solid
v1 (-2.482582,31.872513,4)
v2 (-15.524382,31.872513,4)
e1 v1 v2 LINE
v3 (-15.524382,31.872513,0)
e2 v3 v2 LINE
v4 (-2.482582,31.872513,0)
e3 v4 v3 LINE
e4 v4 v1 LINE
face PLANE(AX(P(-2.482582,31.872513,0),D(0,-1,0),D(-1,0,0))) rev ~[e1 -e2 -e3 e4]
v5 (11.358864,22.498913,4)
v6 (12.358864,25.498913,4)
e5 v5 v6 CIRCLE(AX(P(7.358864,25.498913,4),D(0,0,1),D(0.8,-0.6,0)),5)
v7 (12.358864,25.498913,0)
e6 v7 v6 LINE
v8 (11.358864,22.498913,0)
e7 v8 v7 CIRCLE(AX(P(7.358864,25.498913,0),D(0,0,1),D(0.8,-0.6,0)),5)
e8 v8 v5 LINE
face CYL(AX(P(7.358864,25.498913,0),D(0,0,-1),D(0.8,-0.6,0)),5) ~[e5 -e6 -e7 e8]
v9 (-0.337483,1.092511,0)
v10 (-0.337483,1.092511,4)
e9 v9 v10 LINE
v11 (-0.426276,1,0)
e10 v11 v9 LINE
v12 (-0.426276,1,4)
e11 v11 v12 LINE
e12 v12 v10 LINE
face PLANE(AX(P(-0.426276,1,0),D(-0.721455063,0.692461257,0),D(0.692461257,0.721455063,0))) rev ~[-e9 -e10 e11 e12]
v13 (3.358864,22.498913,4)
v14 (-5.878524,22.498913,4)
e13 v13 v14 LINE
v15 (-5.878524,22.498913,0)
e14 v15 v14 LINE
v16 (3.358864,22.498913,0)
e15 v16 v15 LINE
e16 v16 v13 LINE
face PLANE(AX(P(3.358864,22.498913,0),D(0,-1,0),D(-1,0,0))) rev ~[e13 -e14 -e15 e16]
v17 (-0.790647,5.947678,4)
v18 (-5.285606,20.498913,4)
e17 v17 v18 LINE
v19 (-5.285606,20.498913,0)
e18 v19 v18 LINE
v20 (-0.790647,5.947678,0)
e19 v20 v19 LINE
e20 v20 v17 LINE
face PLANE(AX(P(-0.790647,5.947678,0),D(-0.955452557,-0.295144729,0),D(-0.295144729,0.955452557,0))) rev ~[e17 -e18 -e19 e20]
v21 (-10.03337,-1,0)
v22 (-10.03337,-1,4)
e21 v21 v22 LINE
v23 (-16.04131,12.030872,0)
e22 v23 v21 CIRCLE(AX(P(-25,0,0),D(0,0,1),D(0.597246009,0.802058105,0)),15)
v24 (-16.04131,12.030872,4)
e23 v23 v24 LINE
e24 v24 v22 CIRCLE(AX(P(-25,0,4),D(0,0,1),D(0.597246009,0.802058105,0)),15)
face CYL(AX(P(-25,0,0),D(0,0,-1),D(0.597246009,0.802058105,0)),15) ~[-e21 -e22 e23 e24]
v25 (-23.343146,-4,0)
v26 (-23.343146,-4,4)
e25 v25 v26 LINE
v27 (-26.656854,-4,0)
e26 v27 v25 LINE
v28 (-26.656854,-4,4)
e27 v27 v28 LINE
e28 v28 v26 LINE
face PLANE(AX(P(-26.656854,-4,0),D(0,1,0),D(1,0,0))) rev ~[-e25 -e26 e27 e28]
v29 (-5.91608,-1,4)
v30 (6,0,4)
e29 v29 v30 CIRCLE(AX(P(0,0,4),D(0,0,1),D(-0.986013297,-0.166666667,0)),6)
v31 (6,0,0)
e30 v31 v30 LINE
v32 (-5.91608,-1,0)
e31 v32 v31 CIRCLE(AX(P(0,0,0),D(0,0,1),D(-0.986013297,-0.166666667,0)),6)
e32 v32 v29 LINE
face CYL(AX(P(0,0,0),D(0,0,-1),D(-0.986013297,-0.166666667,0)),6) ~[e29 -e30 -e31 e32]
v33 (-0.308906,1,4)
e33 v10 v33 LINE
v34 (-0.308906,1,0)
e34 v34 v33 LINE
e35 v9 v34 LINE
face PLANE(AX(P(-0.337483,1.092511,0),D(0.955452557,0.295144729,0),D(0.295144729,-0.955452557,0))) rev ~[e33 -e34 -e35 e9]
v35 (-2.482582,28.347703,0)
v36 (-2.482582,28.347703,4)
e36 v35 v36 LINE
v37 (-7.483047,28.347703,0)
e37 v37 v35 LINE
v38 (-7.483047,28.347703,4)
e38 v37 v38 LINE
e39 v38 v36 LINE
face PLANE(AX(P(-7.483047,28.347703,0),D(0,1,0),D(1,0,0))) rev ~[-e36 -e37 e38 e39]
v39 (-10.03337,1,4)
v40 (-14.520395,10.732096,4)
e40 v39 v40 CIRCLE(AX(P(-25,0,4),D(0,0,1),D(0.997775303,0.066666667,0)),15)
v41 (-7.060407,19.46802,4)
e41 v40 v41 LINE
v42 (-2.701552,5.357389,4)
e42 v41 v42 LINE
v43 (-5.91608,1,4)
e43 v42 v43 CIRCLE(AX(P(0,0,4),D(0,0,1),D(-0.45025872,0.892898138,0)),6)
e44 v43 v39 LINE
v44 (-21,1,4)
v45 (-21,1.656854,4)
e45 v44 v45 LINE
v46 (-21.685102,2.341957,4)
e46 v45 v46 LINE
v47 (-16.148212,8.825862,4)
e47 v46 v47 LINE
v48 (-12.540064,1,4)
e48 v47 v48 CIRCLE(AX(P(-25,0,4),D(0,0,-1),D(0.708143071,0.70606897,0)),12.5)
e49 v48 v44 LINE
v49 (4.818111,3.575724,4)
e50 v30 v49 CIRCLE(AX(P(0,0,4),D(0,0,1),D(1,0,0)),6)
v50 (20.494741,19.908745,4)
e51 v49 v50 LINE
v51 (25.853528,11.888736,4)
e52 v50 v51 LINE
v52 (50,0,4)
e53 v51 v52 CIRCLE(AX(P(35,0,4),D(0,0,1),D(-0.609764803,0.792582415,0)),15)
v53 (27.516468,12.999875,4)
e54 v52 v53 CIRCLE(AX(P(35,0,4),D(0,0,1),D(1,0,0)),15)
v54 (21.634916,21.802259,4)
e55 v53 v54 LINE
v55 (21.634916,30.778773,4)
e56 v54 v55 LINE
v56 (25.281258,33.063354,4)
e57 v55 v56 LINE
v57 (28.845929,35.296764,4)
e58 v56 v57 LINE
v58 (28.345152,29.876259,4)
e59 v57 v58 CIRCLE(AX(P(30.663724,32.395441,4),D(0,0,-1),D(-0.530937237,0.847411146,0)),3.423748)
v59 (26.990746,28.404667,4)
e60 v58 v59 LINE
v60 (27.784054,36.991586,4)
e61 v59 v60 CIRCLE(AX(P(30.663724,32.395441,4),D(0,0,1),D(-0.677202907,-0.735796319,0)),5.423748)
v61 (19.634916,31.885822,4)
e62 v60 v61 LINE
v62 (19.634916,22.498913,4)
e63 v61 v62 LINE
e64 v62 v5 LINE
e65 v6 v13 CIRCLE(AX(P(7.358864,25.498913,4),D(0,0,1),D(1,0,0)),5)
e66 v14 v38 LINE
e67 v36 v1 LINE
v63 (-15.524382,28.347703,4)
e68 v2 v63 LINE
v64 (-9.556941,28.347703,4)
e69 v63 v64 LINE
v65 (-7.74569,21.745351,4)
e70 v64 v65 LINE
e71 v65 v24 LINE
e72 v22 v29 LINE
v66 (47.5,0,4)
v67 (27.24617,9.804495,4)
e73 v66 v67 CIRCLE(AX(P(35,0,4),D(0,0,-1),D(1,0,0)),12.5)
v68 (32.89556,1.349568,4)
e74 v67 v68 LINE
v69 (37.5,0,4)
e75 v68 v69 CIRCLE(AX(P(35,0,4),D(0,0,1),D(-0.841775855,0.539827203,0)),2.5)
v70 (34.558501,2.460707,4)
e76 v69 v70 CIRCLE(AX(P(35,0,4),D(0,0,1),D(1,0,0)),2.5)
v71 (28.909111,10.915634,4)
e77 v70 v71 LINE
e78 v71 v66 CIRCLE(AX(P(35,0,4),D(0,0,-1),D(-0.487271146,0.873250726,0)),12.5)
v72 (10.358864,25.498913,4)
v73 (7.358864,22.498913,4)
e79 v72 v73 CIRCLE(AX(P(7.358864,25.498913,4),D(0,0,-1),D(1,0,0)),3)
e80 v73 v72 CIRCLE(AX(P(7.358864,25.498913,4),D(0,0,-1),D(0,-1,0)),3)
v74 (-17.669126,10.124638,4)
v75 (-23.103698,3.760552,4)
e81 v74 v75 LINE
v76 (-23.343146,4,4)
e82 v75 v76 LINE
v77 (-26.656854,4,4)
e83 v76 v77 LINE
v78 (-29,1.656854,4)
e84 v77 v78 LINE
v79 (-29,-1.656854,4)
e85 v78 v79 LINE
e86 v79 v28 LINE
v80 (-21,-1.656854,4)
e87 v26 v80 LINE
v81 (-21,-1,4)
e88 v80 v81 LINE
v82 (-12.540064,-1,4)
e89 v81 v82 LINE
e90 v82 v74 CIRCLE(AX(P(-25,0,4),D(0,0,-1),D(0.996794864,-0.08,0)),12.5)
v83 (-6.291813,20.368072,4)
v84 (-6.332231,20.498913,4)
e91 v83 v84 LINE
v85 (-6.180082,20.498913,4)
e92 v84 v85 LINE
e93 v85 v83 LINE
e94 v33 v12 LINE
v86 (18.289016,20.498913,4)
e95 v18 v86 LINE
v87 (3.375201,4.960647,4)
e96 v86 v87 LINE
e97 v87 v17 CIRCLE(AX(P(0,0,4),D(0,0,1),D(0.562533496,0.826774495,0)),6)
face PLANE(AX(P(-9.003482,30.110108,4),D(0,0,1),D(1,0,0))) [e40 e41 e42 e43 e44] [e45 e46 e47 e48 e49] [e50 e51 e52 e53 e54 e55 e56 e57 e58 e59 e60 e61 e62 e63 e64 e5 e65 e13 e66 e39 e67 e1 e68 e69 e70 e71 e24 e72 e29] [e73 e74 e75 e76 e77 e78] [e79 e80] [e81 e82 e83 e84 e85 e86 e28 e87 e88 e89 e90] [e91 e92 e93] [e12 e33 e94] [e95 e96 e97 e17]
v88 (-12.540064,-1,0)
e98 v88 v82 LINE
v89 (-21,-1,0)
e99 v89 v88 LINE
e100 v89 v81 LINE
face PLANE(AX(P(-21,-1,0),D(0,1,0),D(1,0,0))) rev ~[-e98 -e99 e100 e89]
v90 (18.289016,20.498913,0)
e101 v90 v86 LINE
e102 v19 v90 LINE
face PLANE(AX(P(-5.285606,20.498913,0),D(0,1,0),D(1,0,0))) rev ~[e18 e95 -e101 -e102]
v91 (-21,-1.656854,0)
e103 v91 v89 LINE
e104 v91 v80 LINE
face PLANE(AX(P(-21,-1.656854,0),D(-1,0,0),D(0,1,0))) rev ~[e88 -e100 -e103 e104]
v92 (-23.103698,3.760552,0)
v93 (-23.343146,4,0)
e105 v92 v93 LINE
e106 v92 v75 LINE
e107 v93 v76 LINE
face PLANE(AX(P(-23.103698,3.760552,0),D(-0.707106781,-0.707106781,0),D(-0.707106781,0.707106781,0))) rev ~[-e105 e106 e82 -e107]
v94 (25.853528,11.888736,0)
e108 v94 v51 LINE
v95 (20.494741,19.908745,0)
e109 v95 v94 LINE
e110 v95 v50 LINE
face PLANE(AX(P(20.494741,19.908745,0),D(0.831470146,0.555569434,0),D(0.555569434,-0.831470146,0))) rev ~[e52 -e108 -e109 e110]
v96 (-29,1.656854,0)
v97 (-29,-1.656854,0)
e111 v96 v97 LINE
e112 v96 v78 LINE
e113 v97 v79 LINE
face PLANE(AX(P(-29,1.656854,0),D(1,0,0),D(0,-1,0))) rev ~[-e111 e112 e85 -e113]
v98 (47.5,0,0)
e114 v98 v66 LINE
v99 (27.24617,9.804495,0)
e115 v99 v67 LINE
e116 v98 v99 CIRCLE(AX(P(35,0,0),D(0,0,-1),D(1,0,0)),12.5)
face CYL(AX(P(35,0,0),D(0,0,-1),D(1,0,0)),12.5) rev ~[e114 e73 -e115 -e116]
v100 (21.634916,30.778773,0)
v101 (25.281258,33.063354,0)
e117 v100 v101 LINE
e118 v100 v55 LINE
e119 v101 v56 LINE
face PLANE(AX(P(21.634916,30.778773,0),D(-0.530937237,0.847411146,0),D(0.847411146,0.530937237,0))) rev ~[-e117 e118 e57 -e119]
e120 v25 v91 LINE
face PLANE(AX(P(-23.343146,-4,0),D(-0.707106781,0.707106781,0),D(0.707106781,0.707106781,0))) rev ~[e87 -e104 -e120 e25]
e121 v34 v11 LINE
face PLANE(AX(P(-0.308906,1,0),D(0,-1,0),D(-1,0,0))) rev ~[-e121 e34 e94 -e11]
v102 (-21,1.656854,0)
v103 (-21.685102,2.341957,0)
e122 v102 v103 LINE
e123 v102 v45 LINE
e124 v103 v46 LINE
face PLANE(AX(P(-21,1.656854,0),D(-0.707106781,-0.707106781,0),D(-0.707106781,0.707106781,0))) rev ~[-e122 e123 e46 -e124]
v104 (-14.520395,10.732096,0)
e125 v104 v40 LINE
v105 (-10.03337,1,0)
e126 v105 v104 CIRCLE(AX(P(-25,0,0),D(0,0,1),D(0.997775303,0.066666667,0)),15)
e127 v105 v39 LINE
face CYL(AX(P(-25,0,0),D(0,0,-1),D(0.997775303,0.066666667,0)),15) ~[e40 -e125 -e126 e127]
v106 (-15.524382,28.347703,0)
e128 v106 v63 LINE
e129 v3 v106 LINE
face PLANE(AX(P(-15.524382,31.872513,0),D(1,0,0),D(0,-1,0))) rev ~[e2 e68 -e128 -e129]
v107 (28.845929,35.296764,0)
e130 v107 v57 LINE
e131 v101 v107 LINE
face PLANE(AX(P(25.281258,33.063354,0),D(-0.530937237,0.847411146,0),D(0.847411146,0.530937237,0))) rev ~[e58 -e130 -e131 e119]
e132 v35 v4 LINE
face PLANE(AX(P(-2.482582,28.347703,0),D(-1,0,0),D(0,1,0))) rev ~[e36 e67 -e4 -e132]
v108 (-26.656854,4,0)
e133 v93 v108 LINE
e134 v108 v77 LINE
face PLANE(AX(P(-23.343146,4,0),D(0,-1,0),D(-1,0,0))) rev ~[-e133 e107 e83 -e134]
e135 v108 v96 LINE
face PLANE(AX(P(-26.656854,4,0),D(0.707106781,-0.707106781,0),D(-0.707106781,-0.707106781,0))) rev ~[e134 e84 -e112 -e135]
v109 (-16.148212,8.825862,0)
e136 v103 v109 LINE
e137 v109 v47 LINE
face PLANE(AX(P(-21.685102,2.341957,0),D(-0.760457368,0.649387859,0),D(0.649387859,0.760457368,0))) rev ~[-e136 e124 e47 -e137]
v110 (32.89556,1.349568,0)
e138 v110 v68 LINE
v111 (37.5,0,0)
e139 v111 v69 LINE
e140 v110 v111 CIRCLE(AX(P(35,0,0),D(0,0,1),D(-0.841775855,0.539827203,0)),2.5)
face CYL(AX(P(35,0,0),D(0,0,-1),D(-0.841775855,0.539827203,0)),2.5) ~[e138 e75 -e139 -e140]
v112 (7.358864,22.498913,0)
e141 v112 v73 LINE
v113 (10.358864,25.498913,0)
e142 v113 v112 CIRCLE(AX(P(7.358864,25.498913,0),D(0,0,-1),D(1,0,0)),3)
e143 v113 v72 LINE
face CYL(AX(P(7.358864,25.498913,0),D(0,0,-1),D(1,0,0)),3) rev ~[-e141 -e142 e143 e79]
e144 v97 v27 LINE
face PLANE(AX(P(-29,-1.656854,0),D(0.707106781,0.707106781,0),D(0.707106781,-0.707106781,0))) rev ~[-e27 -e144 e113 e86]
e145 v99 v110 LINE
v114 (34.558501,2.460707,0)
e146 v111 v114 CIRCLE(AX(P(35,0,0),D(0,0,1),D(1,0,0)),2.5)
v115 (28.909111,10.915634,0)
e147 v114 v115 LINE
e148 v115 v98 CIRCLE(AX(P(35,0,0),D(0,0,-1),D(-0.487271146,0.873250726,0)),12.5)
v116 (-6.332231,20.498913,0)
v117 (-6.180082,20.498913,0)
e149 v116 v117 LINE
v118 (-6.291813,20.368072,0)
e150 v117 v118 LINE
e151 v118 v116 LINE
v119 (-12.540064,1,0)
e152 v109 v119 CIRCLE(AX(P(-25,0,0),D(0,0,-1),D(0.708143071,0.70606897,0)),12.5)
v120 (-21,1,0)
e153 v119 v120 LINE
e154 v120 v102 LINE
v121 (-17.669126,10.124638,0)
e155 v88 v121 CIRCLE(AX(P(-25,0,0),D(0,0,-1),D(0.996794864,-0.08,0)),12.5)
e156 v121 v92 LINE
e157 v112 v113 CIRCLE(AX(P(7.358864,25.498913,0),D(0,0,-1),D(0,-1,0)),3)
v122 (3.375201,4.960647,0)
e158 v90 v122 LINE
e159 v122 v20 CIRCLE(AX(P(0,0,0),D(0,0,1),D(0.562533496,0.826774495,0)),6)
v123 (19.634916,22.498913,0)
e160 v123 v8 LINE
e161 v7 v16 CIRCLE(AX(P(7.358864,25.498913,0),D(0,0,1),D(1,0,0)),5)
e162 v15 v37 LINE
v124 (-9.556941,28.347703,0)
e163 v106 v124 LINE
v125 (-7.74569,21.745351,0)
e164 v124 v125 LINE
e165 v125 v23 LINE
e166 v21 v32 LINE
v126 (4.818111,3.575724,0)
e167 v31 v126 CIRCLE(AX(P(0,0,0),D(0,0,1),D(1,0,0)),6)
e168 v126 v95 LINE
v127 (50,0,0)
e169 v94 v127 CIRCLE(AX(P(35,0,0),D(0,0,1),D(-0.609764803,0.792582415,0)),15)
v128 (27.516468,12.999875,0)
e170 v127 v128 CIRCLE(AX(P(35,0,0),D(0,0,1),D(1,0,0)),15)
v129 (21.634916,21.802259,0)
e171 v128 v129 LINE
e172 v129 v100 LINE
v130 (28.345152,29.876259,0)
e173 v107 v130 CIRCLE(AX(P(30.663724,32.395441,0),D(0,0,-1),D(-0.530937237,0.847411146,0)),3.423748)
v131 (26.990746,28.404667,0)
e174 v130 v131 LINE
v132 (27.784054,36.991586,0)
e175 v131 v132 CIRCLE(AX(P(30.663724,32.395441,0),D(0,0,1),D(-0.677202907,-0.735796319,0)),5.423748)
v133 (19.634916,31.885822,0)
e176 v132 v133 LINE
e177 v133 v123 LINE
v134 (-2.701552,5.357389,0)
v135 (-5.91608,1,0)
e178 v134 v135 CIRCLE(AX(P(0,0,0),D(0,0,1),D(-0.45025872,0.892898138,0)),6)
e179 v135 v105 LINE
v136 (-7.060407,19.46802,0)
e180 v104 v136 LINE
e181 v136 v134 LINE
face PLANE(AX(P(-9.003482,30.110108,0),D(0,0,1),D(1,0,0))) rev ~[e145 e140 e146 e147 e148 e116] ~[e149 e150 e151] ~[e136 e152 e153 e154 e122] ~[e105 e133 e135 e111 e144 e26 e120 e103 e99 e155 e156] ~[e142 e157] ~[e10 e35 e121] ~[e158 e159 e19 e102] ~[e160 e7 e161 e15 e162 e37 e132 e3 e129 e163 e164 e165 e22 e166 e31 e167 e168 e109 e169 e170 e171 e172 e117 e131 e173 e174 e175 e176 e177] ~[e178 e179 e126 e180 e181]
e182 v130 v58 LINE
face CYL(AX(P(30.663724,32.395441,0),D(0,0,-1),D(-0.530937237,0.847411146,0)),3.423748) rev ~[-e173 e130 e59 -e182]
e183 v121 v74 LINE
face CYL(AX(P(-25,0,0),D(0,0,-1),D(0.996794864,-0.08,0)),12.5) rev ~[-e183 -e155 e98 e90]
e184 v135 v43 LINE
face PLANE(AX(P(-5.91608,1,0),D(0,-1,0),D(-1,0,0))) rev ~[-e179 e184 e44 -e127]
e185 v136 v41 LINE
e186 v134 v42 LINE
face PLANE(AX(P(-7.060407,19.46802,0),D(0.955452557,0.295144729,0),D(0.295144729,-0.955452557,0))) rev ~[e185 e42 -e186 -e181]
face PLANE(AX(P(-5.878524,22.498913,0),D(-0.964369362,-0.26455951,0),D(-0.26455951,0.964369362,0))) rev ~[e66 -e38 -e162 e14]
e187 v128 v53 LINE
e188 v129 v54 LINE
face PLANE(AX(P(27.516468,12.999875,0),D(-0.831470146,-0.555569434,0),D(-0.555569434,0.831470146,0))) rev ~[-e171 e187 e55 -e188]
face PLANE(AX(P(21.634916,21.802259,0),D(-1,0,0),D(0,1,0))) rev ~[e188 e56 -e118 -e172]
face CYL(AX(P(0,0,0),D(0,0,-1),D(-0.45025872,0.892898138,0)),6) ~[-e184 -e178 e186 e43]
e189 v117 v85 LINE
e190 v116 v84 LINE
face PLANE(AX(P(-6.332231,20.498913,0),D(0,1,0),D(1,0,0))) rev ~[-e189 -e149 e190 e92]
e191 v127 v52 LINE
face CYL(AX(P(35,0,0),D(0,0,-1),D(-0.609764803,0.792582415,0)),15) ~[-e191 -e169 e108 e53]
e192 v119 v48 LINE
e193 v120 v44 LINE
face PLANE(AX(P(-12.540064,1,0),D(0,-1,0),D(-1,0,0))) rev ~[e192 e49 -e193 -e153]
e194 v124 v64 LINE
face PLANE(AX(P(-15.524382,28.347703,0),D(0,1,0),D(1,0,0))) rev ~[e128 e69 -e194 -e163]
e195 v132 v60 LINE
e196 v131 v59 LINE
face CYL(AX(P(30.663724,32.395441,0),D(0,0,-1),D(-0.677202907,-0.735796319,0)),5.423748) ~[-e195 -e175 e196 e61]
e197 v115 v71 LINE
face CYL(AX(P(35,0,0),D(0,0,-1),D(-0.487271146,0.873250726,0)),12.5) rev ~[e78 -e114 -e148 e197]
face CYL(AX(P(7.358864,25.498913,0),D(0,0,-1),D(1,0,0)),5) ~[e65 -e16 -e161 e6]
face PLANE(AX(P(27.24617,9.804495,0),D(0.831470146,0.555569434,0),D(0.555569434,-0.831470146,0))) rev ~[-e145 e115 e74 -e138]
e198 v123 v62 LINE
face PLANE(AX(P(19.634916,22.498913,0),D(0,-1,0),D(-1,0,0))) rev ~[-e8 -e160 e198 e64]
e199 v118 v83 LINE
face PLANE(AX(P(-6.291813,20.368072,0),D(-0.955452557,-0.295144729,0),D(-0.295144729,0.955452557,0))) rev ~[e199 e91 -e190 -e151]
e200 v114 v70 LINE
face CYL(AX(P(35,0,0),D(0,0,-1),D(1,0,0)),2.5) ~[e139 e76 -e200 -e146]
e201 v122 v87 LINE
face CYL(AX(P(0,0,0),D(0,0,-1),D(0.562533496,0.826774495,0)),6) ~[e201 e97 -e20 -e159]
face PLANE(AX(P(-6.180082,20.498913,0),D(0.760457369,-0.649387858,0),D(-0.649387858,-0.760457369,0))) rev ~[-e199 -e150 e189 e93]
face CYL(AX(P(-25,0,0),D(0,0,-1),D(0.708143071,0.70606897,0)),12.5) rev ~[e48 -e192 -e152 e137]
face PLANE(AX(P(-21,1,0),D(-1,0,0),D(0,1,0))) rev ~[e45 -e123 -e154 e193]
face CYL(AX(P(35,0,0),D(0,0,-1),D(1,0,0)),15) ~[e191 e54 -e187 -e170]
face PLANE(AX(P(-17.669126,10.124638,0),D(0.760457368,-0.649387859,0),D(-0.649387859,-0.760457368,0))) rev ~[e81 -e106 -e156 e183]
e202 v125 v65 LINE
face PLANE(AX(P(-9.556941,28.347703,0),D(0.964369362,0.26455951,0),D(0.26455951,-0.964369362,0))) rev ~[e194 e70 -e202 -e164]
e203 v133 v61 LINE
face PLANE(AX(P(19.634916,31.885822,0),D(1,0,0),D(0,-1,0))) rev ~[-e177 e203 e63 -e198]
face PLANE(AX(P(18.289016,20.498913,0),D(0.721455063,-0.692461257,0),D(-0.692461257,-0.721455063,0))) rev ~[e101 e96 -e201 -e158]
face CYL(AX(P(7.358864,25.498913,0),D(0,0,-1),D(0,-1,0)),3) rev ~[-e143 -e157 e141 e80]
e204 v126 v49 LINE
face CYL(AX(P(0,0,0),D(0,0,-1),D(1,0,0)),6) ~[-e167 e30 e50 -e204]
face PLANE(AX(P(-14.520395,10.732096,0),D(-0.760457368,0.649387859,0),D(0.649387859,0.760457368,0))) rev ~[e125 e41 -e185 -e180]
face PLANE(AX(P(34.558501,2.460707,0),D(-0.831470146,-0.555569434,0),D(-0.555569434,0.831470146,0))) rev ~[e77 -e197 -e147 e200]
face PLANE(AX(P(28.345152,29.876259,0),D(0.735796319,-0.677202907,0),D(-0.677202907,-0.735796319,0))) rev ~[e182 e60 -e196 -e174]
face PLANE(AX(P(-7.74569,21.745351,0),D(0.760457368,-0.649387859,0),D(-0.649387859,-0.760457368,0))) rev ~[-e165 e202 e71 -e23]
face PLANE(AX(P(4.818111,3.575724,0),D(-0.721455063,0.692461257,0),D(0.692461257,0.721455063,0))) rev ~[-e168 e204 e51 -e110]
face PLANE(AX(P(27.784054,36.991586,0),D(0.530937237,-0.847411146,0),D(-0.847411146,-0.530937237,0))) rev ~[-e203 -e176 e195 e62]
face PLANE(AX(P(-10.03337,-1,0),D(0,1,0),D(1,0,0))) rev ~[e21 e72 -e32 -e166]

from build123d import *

# Parameters (mm, degrees)
F1_DEPTH = 4


with BuildPart() as f1:
    # F0 (on Top) → F1 (new body)
    with BuildSketch(Plane.XY):
        Polygon((-15.5243815389, 28.3477026969), (-9.5569409153, 28.3477026969), (-8.5199938287, 28.3477026969), (-7.4830467421, 28.3477026969), (-2.4825821165, 28.3477026969), (-2.4825821165, 31.8725127727), (-15.5243815389, 31.8725127727), align=None)
        with BuildLine():
            Line((7.3588635176, 22.4989129454), (11.3588635176, 22.4989129454))
            ThreePointArc((11.3588635176, 22.4989129454), (12.1022800079, 23.9177741153), (12.3588635176, 25.4989129454))
            ThreePointArc((12.3588635176, 25.4989129454), (5.7777246876, 30.2423294356), (3.3588635176, 22.4989129454))
            Line((3.3588635176, 22.4989129454), (7.3588635176, 22.4989129454))
        make_face()
        with BuildLine():
            ThreePointArc((10.3588635176, 25.4989129454), (9.4801838612, 23.3775926018), (7.3588635176, 22.4989129454))
            ThreePointArc((7.3588635176, 22.4989129454), (5.2375431741, 27.6202332889), (10.3588635176, 25.4989129454))
        make_face(mode=Mode.SUBTRACT)
        Polygon((21.6349155158, 22.5854356274), (21.5552828644, 22.4989129454), (21.6349155158, 22.4989129454), align=None)
        with BuildLine():
            Line((-10.0333704529, -1), (-5.9160797831, -1))
            ThreePointArc((-5.9160797831, -1), (-5.9789831367, -0.5017575617), (-6, 0))
            Line((-6, 0), (-10, 0))
            ThreePointArc((-10, 0), (-10.0083449345, -0.5002783193), (-10.0333704529, -1))
        make_face()
        with BuildLine():
            Line((27.2461703771, 9.8044952026), (25.8535279477, 11.8887362237))
            ThreePointArc((25.8535279477, 11.8887362237), (28.3741823442, -13.4572857736), (50, 0))
            ThreePointArc((50, 0), (42.508229605, 12.9856262151), (27.5164682401, 12.9998750917))
            Line((27.5164682401, 12.9998750917), (28.9091106695, 10.9156340706))
            ThreePointArc((28.9091106695, 10.9156340706), (41.3290553548, 10.7792883956), (47.5, 0))
            ThreePointArc((47.5, 0), (29.5535732029, -11.2510637339), (27.2461703771, 9.8044952026))
        make_face()
        with BuildLine():
            ThreePointArc((-16.0413098576, 12.0308715783), (-38.621899063, -6.2804351694), (-10.0333704529, -1))
            Line((-10.0333704529, -1), (-12.5400642056, -1))
            ThreePointArc((-12.5400642056, -1), (-36.3515825525, -5.2336959745), (-17.6691263456, 10.1246378436))
            Line((-17.6691263456, 10.1246378436), (-16.0413098576, 12.0308715783))
        make_face()
        with BuildLine():
            ThreePointArc((27.7840541056, 36.9915858101), (26.5245000959, 35.9002763927), (25.655754026, 34.4780553079))
            ThreePointArc((25.655754026, 34.4780553079), (25.4205728544, 33.7833933402), (25.2812581995, 33.0633538552))
            Line((25.2812581995, 33.0633538552), (28.8459285816, 35.2967635194))
            ThreePointArc((28.8459285816, 35.2967635194), (34.0729543544, 32.0804769566), (28.3451517253, 29.8762594705))
            Line((28.3451517253, 29.8762594705), (26.9907459113, 28.404666833))
            ThreePointArc((26.9907459113, 28.404666833), (36.0644734943, 31.8964891433), (27.7840541056, 36.9915858101))
        make_face()
        with BuildLine():
            Line((-5.6809818921, 21.7788360929), (-5.5945120398, 21.4989129454))
            Line((-5.5945120398, 21.4989129454), (4.3588635176, 21.4989129454))
            ThreePointArc((4.3588635176, 21.4989129454), (3.8233296117, 21.9633790395), (3.3588635176, 22.4989129454))
            Line((3.3588635176, 22.4989129454), (-5.8785236087, 22.4989129454))
            Line((-5.8785236087, 22.4989129454), (-5.6809818921, 21.7788360928))
        make_face()
        with BuildLine():
            Line((19.6349155158, 22.4989129454), (20.6349155158, 22.4989129454))
            Line((20.6349155158, 22.4989129454), (20.6349155158, 31.3322976225))
            Line((20.6349155158, 31.3322976225), (25.655754026, 34.4780553079))
            ThreePointArc((25.655754026, 34.4780553079), (26.5245000959, 35.9002763927), (27.7840541056, 36.9915858101))
            Line((27.7840541056, 36.9915858101), (19.6349155158, 31.8858220424))
            Line((19.6349155158, 31.8858220424), (19.6349155158, 22.4989129454))
        make_face()
        Polygon((20.1004037621, 20.4989129454), (20.4947406927, 19.9087447948), (21.0611911899, 20.4989129454), align=None)
        with BuildLine():
            ThreePointArc((4.1547675399, 4.3287303784), (4.5022097097, 3.9661199843), (4.8181111042, 3.5757244564))
            Line((4.8181111042, 3.5757244564), (20.4947406927, 19.9087447948))
            Line((20.4947406927, 19.9087447948), (20.1004037621, 20.4989129454))
            Line((20.1004037621, 20.4989129454), (19.6751034747, 20.4989129454))
            Line((19.6751034747, 20.4989129454), (4.1547675399, 4.3287303784))
        make_face()
        with BuildLine():
            ThreePointArc((27.5164682401, 12.9998750917), (27.0870611681, 12.7430529718), (26.6664584903, 12.472052193))
            Line((26.6664584903, 12.472052193), (28.0553820752, 10.3933768275))
            ThreePointArc((28.0553820752, 10.3933768275), (28.4770175144, 10.6630530099), (28.9091106695, 10.9156340706))
            Line((28.9091106695, 10.9156340706), (27.5164682401, 12.9998750917))
        make_face()
        with BuildLine():
            ThreePointArc((26.6664584903, 12.472052193), (26.2551281935, 12.1871742864), (25.8535279477, 11.8887362237))
            Line((25.8535279477, 11.8887362237), (27.2461703771, 9.8044952026))
            ThreePointArc((27.2461703771, 9.8044952026), (27.6448803225, 10.1070378712), (28.0553820752, 10.3933768275))
            Line((28.0553820752, 10.3933768275), (26.6664584903, 12.472052193))
        make_face()
        with BuildLine():
            Line((21.0611911899, 20.4989129454), (20.4947406927, 19.9087447948))
            Line((20.4947406927, 19.9087447948), (25.8535279477, 11.8887362237))
            ThreePointArc((25.8535279477, 11.8887362237), (26.2551281935, 12.1871742864), (26.6664584903, 12.472052193))
            Line((26.6664584903, 12.472052193), (21.3030927637, 20.4989129454))
            Line((21.3030927637, 20.4989129454), (21.0611911899, 20.4989129454))
        make_face()
        with BuildLine():
            ThreePointArc((-15.2591821222, 11.4068605265), (-15.6450415555, 11.7253892261), (-16.0413098576, 12.0308715783))
            Line((-16.0413098576, 12.0308715783), (-17.6691263456, 10.1246378436))
            ThreePointArc((-17.6691263456, 10.1246378436), (-17.2696924008, 9.8230516858), (-16.8826517685, 9.5057171054))
            Line((-16.8826517685, 9.5057171054), (-15.2591821222, 11.4068605265))
        make_face()
        with BuildLine():
            Line((-12.5400642056, -1), (-10.0333704529, -1))
            ThreePointArc((-10.0333704529, -1), (-10.0083449345, -0.5002783193), (-10, 0))
            Line((-10, 0), (-12.5, 0))
            ThreePointArc((-12.5, 0), (-12.5100200675, -0.5004011242), (-12.5400642056, -1))
        make_face()
        Polygon((-6.6411364824, 21.4989129454), (-5.5945120398, 21.4989129454), (-5.6809818921, 21.7788360929), (-5.8785236087, 22.4989129454), (-7.4830467421, 28.3477026969), (-8.5199938287, 28.3477026969), align=None)
        with BuildLine():
            Line((4.3588635176, 21.4989129454), (10.3588635176, 21.4989129454))
            ThreePointArc((10.3588635176, 21.4989129454), (10.8943974236, 21.9633790395), (11.3588635176, 22.4989129454))
            Line((11.3588635176, 22.4989129454), (7.3588635176, 22.4989129454))
            Line((7.3588635176, 22.4989129454), (3.3588635176, 22.4989129454))
            ThreePointArc((3.3588635176, 22.4989129454), (3.8233296117, 21.9633790395), (4.3588635176, 21.4989129454))
        make_face()
        with BuildLine():
            Line((10.3588635176, 21.4989129454), (19.2488278006, 21.4989129454))
            Line((19.2488278006, 21.4989129454), (19.6349155158, 21.9011664061))
            Line((19.6349155158, 21.9011664061), (19.6349155158, 22.4989129454))
            Line((19.6349155158, 22.4989129454), (11.3588635176, 22.4989129454))
            ThreePointArc((11.3588635176, 22.4989129454), (10.8943974236, 21.9633790395), (10.3588635176, 21.4989129454))
        make_face()
        with BuildLine():
            Line((-7.7456900513, 21.7453513374), (-16.0413098576, 12.0308715783))
            ThreePointArc((-16.0413098576, 12.0308715783), (-15.6450415555, 11.7253892261), (-15.2591821222, 11.4068605265))
            Line((-15.2591821222, 11.4068605265), (-7.4097298942, 20.5988614343))
            Line((-7.4097298942, 20.5988614343), (-6.6411364824, 21.4989129454))
            Line((-6.6411364824, 21.4989129454), (-8.5199938287, 28.3477026969))
            Line((-8.5199938287, 28.3477026969), (-9.5569409153, 28.3477026969))
            Line((-9.5569409153, 28.3477026969), (-7.7456900513, 21.7453513374))
        make_face()
        Polygon((19.6349155158, 21.4989129454), (20.6349155158, 21.4989129454), (20.6349155158, 22.4989129454), (19.6349155158, 22.4989129454), (19.6349155158, 21.9011664061), align=None)
        with BuildLine():
            Line((20.6349155158, 31.3322976225), (20.6349155158, 22.4989129454))
            Line((20.6349155158, 22.4989129454), (21.5552828644, 22.4989129454))
            Line((21.5552828644, 22.4989129454), (21.6349155158, 22.5854356274))
            Line((21.6349155158, 22.5854356274), (21.6349155158, 30.7787732025))
            Line((21.6349155158, 30.7787732025), (25.2812581995, 33.0633538552))
            ThreePointArc((25.2812581995, 33.0633538552), (25.4205728544, 33.7833933402), (25.655754026, 34.4780553079))
            Line((25.655754026, 34.4780553079), (20.6349155158, 31.3322976225))
        make_face()
        with BuildLine():
            ThreePointArc((-5.9160797831, -1), (0.5017575617, -5.9789831367), (6, 0))
            ThreePointArc((6, 0), (5.6968704841, 1.8829940753), (4.8181111042, 3.5757244564))
            ThreePointArc((4.8181111042, 3.5757244564), (4.5022097097, 3.9661199843), (4.1547675399, 4.3287303784))
            Line((4.1547675399, 4.3287303784), (0.7917937299, 0.824946652))
            Line((0.7917937299, 0.824946652), (0, 0))
            Line((0, 0), (-1.0466244425, 0))
            Line((-1.0466244425, 0), (-6, 0))
            ThreePointArc((-6, 0), (-5.9789831367, -0.5017575617), (-5.9160797831, -1))
        make_face()
        with BuildLine():
            Line((21.3030927637, 20.4989129454), (26.6664584903, 12.472052193))
            ThreePointArc((26.6664584903, 12.472052193), (27.0870611681, 12.7430529718), (27.5164682401, 12.9998750917))
            Line((27.5164682401, 12.9998750917), (21.6349155158, 21.8022591043))
            Line((21.6349155158, 21.8022591043), (21.6349155158, 22.4989129454))
            Line((21.6349155158, 22.4989129454), (21.5552828644, 22.4989129454))
            Line((21.5552828644, 22.4989129454), (20.6349155158, 21.4989129454))
            Line((20.6349155158, 21.4989129454), (21.2038088624, 20.6475021133))
            Line((21.2038088624, 20.6475021133), (21.3030927637, 20.4989129454))
        make_face()
        with BuildLine():
            Line((-12.5400642056, 1), (-10.0333704529, 1))
            ThreePointArc((-10.0333704529, 1), (-11.378100937, 6.2804351694), (-14.5203951207, 10.7320958612))
            Line((-14.5203951207, 10.7320958612), (-16.1482116088, 8.8258621265))
            ThreePointArc((-16.1482116088, 8.8258621265), (-13.6484174475, 5.2336959745), (-12.5400642056, 1))
        make_face()
        with BuildLine():
            ThreePointArc((-16.1482116088, 8.8258621265), (-16.5086249566, 9.1731428568), (-16.8826517685, 9.5057171054))
            Line((-16.8826517685, 9.5057171054), (-22.3944001818, 3.0512544313))
            Line((-22.3944001818, 3.0512544313), (-21.6851024654, 2.3419567149))
            Line((-21.6851024654, 2.3419567149), (-16.1482116088, 8.8258621265))
        make_face()
        with BuildLine():
            ThreePointArc((-16.8826517685, 9.5057171054), (-17.2696924008, 9.8230516858), (-17.6691263456, 10.1246378436))
            Line((-17.6691263456, 10.1246378436), (-23.1036978982, 3.7605521477))
            Line((-23.1036978982, 3.7605521477), (-22.3944001818, 3.0512544313))
            Line((-22.3944001818, 3.0512544313), (-16.8826517685, 9.5057171054))
        make_face()
        Polygon((-21, -1.6568542495), (-21, -1), (-21, 0), (-23.6850018929, 0), (-25, 0), (-24.1460561953, 1), (-22.3944001818, 3.0512544313), (-23.1036978982, 3.7605521477), (-23.3431457505, 4), (-26.6568542495, 4), (-29, 1.6568542495), (-29, -1.6568542495), (-26.6568542495, -4), (-23.3431457505, -4), align=None)
        Polygon((-21.6851024654, 2.3419567149), (-22.3944001818, 3.0512544313), (-24.1460561953, 1), (-22.8310580882, 1), align=None)
        Polygon((-25, 0), (-23.6850018929, 0), (-22.8310580882, 1), (-24.1460561953, 1), align=None)
        Polygon((-23.6850018929, 0), (-21, 0), (-21, 1), (-22.8310580882, 1), align=None)
        with BuildLine():
            Line((-21, 0), (-12.5, 0))
            ThreePointArc((-12.5, 0), (-12.5100200675, 0.5004011242), (-12.5400642056, 1))
            Line((-12.5400642056, 1), (-21, 1))
            Line((-21, 1), (-21, 0))
        make_face()
        with BuildLine():
            Line((-21, -1), (-12.5400642056, -1))
            ThreePointArc((-12.5400642056, -1), (-12.5100200675, -0.5004011242), (-12.5, 0))
            Line((-12.5, 0), (-21, 0))
            Line((-21, 0), (-21, -1))
        make_face()
        with BuildLine():
            ThreePointArc((-2.7015523213, 5.3573888281), (-4.8283128649, 3.561936956), (-5.9160797831, 1))
            Line((-5.9160797831, 1), (-1.35553013, 1))
            Line((-1.35553013, 1), (-2.7015523213, 5.3573888281))
        make_face()
        with BuildLine():
            ThreePointArc((-5.9160797831, 1), (-5.9789831367, 0.5017575617), (-6, 0))
            Line((-6, 0), (-1.0466244425, 0))
            Line((-1.0466244425, 0), (-1.1292765039, 0.2675640649))
            Line((-1.1292765039, 0.2675640649), (-1.35553013, 1))
            Line((-1.35553013, 1), (-5.9160797831, 1))
        make_face()
        with BuildLine():
            Line((-10, 0), (-6, 0))
            ThreePointArc((-6, 0), (-5.9789831367, 0.5017575617), (-5.9160797831, 1))
            Line((-5.9160797831, 1), (-10.0333704529, 1))
            ThreePointArc((-10.0333704529, 1), (-10.0083449345, 0.5002783193), (-10, 0))
        make_face()
        with BuildLine():
            Line((-12.5, 0), (-10, 0))
            ThreePointArc((-10, 0), (-10.0083449345, 0.5002783193), (-10.0333704529, 1))
            Line((-10.0333704529, 1), (-12.5400642056, 1))
            ThreePointArc((-12.5400642056, 1), (-12.5100200675, 0.5004011242), (-12.5, 0))
        make_face()
        with BuildLine():
            Line((0.4543109559, 1.917457369), (3.375200978, 4.9606469697))
            ThreePointArc((3.375200978, 4.9606469697), (1.3833066376, 5.8383613066), (-0.790647207, 5.947678286))
            Line((-0.790647207, 5.947678286), (0.4543109559, 1.917457369))
        make_face()
        with BuildLine():
            Line((0.4543109559, 1.917457369), (-0.790647207, 5.947678286))
            ThreePointArc((-0.790647207, 5.947678286), (-1.285259812, 5.8607258267), (-1.7708683738, 5.7327153429))
            Line((-1.7708683738, 5.7327153429), (-0.337482774, 1.0925107169))
            Line((-0.337482774, 1.0925107169), (0.4543109559, 1.917457369))
        make_face()
        with BuildLine():
            ThreePointArc((-1.7708683738, 5.7327153429), (-2.2440709028, 5.5645436276), (-2.7015523213, 5.3573888281))
            Line((-2.7015523213, 5.3573888281), (-1.35553013, 1))
            Line((-1.35553013, 1), (-0.4262756741, 1))
            Line((-0.4262756741, 1), (-0.337482774, 1.0925107169))
            Line((-0.337482774, 1.0925107169), (-1.7708683738, 5.7327153429))
        make_face()
        with BuildLine():
            Line((0.7917937299, 0.824946652), (4.1547675399, 4.3287303784))
            ThreePointArc((4.1547675399, 4.3287303784), (3.7782186431, 4.6610153277), (3.375200978, 4.9606469697))
            Line((3.375200978, 4.9606469697), (0.4543109559, 1.917457369))
            Line((0.4543109559, 1.917457369), (0.7917937299, 0.824946652))
        make_face()
        with BuildLine():
            ThreePointArc((3.375200978, 4.9606469697), (3.7782186431, 4.6610153277), (4.1547675399, 4.3287303784))
            Line((4.1547675399, 4.3287303784), (19.6751034747, 20.4989129454))
            Line((19.6751034747, 20.4989129454), (18.2890157595, 20.4989129454))
            Line((18.2890157595, 20.4989129454), (3.375200978, 4.9606469697))
        make_face()
        with BuildLine():
            Line((-7.4097298942, 20.5988614343), (-15.2591821222, 11.4068605265))
            ThreePointArc((-15.2591821222, 11.4068605265), (-14.8841608872, 11.0756398932), (-14.5203951207, 10.7320958612))
            Line((-14.5203951207, 10.7320958612), (-7.060406618, 19.4680202412))
            Line((-7.060406618, 19.4680202412), (-7.4097298942, 20.5988614343))
        make_face()
        with BuildLine():
            ThreePointArc((-14.5203951207, 10.7320958612), (-14.8841608872, 11.0756398932), (-15.2591821222, 11.4068605265))
            Line((-15.2591821222, 11.4068605265), (-16.8826517685, 9.5057171054))
            ThreePointArc((-16.8826517685, 9.5057171054), (-16.5086249566, 9.1731428568), (-16.1482116088, 8.8258621265))
            Line((-16.1482116088, 8.8258621265), (-14.5203951207, 10.7320958612))
        make_face()
        Polygon((-6.18008218, 20.4989129454), (-5.2856063524, 20.4989129454), (-5.5945120398, 21.4989129454), (-6.6411364824, 21.4989129454), (-6.3322307949, 20.4989129454), align=None)
        Polygon((-7.4097298942, 20.5988614343), (-7.060406618, 19.4680202412), (-6.2918132062, 20.3680717523), (-6.3322307949, 20.4989129454), (-6.6411364824, 21.4989129454), align=None)
        with BuildLine():
            Line((-5.5945120398, 21.4989129454), (-5.2856063524, 20.4989129454))
            Line((-5.2856063524, 20.4989129454), (7.3588635176, 20.4989129454))
            ThreePointArc((7.3588635176, 20.4989129454), (5.7777246876, 20.7554964551), (4.3588635176, 21.4989129454))
            Line((4.3588635176, 21.4989129454), (-5.5945120398, 21.4989129454))
        make_face()
        Polygon((18.2890157595, 20.4989129454), (19.6751034747, 20.4989129454), (19.9258473461, 20.7601556269), (20.6349155158, 21.4989129454), (19.6349155158, 21.4989129454), (19.2488278006, 21.4989129454), align=None)
        Polygon((19.9258473461, 20.7601556269), (20.1004037621, 20.4989129454), (21.0611911899, 20.4989129454), (21.2038088624, 20.6475021133), (20.6349155158, 21.4989129454), align=None)
        Polygon((21.2038088624, 20.6475021133), (21.0611911899, 20.4989129454), (21.3030927637, 20.4989129454), align=None)
        Polygon((19.9258473461, 20.7601556269), (19.6751034747, 20.4989129454), (20.1004037621, 20.4989129454), align=None)
        Polygon((19.6349155158, 21.9011664061), (19.2488278006, 21.4989129454), (19.6349155158, 21.4989129454), align=None)
        Polygon((-0.4262756741, 1), (-1.35553013, 1), (-1.1292765039, 0.2675640649), align=None)
        Polygon((-1.1292765039, 0.2675640649), (-1.0466244425, 0), (0, 0), (-0.3089056874, 1), (-0.4262756741, 1), align=None)
        Polygon((0, 0), (0.7917937299, 0.824946652), (0.4543109559, 1.917457369), (-0.337482774, 1.0925107169), (-0.3089056874, 1), align=None)
        Polygon((-22.8310580882, 1), (-21, 1), (-21, 1.6568542495), (-21.6851024654, 2.3419567149), align=None)
        with BuildLine():
            ThreePointArc((28.9091106695, 10.9156340706), (28.4770175144, 10.6630530099), (28.0553820752, 10.3933768275))
            Line((28.0553820752, 10.3933768275), (33.611076415, 2.0786753655))
            ThreePointArc((33.611076415, 2.0786753655), (34.0650673578, 2.3185989206), (34.5585006537, 2.4607068755))
            Line((34.5585006537, 2.4607068755), (28.9091106695, 10.9156340706))
        make_face()
        with BuildLine():
            ThreePointArc((28.0553820752, 10.3933768275), (27.6448803225, 10.1070378712), (27.2461703771, 9.8044952026))
            Line((27.2461703771, 9.8044952026), (32.8955603613, 1.3495680076))
            ThreePointArc((32.8955603613, 1.3495680076), (33.2156805112, 1.7510579551), (33.611076415, 2.0786753655))
            Line((33.611076415, 2.0786753655), (28.0553820752, 10.3933768275))
        make_face()
        with BuildLine():
            ThreePointArc((33.611076415, 2.0786753655), (33.2156805112, 1.7510579551), (32.8955603613, 1.3495680076))
            ThreePointArc((32.8955603613, 1.3495680076), (34.2968282915, -2.3990726434), (37.5, 0))
            ThreePointArc((37.5, 0), (36.6040965735, 1.9175177138), (34.5585006537, 2.4607068755))
            ThreePointArc((34.5585006537, 2.4607068755), (34.0650673578, 2.3185989206), (33.611076415, 2.0786753655))
        make_face()
        with BuildLine():
            Line((-7.060406618, 19.4680202412), (-2.7015523213, 5.3573888281))
            ThreePointArc((-2.7015523213, 5.3573888281), (-2.2440709028, 5.5645436276), (-1.7708683738, 5.7327153429))
            Line((-1.7708683738, 5.7327153429), (-6.2918132062, 20.3680717523))
            Line((-6.2918132062, 20.3680717523), (-7.060406618, 19.4680202412))
        make_face()
        with BuildLine():
            ThreePointArc((-1.7708683738, 5.7327153429), (-1.285259812, 5.8607258267), (-0.790647207, 5.947678286))
            Line((-0.790647207, 5.947678286), (-5.2856063524, 20.4989129454))
            Line((-5.2856063524, 20.4989129454), (-6.18008218, 20.4989129454))
            Line((-6.18008218, 20.4989129454), (-6.2918132062, 20.3680717523))
            Line((-6.2918132062, 20.3680717523), (-1.7708683738, 5.7327153429))
        make_face()
        with BuildLine():
            ThreePointArc((4.3588635176, 21.4989129454), (5.7777246876, 20.7554964551), (7.3588635176, 20.4989129454))
            ThreePointArc((7.3588635176, 20.4989129454), (8.9400023477, 20.7554964551), (10.3588635176, 21.4989129454))
            Line((10.3588635176, 21.4989129454), (4.3588635176, 21.4989129454))
        make_face()
        with BuildLine():
            Line((7.3588635176, 20.4989129454), (18.2890157595, 20.4989129454))
            Line((18.2890157595, 20.4989129454), (19.2488278006, 21.4989129454))
            Line((19.2488278006, 21.4989129454), (10.3588635176, 21.4989129454))
            ThreePointArc((10.3588635176, 21.4989129454), (8.9400023477, 20.7554964551), (7.3588635176, 20.4989129454))
        make_face()
        Polygon((20.6349155158, 22.4989129454), (20.6349155158, 21.4989129454), (21.5552828644, 22.4989129454), align=None)
    extrude(amount=F1_DEPTH)


solid = f1.part
